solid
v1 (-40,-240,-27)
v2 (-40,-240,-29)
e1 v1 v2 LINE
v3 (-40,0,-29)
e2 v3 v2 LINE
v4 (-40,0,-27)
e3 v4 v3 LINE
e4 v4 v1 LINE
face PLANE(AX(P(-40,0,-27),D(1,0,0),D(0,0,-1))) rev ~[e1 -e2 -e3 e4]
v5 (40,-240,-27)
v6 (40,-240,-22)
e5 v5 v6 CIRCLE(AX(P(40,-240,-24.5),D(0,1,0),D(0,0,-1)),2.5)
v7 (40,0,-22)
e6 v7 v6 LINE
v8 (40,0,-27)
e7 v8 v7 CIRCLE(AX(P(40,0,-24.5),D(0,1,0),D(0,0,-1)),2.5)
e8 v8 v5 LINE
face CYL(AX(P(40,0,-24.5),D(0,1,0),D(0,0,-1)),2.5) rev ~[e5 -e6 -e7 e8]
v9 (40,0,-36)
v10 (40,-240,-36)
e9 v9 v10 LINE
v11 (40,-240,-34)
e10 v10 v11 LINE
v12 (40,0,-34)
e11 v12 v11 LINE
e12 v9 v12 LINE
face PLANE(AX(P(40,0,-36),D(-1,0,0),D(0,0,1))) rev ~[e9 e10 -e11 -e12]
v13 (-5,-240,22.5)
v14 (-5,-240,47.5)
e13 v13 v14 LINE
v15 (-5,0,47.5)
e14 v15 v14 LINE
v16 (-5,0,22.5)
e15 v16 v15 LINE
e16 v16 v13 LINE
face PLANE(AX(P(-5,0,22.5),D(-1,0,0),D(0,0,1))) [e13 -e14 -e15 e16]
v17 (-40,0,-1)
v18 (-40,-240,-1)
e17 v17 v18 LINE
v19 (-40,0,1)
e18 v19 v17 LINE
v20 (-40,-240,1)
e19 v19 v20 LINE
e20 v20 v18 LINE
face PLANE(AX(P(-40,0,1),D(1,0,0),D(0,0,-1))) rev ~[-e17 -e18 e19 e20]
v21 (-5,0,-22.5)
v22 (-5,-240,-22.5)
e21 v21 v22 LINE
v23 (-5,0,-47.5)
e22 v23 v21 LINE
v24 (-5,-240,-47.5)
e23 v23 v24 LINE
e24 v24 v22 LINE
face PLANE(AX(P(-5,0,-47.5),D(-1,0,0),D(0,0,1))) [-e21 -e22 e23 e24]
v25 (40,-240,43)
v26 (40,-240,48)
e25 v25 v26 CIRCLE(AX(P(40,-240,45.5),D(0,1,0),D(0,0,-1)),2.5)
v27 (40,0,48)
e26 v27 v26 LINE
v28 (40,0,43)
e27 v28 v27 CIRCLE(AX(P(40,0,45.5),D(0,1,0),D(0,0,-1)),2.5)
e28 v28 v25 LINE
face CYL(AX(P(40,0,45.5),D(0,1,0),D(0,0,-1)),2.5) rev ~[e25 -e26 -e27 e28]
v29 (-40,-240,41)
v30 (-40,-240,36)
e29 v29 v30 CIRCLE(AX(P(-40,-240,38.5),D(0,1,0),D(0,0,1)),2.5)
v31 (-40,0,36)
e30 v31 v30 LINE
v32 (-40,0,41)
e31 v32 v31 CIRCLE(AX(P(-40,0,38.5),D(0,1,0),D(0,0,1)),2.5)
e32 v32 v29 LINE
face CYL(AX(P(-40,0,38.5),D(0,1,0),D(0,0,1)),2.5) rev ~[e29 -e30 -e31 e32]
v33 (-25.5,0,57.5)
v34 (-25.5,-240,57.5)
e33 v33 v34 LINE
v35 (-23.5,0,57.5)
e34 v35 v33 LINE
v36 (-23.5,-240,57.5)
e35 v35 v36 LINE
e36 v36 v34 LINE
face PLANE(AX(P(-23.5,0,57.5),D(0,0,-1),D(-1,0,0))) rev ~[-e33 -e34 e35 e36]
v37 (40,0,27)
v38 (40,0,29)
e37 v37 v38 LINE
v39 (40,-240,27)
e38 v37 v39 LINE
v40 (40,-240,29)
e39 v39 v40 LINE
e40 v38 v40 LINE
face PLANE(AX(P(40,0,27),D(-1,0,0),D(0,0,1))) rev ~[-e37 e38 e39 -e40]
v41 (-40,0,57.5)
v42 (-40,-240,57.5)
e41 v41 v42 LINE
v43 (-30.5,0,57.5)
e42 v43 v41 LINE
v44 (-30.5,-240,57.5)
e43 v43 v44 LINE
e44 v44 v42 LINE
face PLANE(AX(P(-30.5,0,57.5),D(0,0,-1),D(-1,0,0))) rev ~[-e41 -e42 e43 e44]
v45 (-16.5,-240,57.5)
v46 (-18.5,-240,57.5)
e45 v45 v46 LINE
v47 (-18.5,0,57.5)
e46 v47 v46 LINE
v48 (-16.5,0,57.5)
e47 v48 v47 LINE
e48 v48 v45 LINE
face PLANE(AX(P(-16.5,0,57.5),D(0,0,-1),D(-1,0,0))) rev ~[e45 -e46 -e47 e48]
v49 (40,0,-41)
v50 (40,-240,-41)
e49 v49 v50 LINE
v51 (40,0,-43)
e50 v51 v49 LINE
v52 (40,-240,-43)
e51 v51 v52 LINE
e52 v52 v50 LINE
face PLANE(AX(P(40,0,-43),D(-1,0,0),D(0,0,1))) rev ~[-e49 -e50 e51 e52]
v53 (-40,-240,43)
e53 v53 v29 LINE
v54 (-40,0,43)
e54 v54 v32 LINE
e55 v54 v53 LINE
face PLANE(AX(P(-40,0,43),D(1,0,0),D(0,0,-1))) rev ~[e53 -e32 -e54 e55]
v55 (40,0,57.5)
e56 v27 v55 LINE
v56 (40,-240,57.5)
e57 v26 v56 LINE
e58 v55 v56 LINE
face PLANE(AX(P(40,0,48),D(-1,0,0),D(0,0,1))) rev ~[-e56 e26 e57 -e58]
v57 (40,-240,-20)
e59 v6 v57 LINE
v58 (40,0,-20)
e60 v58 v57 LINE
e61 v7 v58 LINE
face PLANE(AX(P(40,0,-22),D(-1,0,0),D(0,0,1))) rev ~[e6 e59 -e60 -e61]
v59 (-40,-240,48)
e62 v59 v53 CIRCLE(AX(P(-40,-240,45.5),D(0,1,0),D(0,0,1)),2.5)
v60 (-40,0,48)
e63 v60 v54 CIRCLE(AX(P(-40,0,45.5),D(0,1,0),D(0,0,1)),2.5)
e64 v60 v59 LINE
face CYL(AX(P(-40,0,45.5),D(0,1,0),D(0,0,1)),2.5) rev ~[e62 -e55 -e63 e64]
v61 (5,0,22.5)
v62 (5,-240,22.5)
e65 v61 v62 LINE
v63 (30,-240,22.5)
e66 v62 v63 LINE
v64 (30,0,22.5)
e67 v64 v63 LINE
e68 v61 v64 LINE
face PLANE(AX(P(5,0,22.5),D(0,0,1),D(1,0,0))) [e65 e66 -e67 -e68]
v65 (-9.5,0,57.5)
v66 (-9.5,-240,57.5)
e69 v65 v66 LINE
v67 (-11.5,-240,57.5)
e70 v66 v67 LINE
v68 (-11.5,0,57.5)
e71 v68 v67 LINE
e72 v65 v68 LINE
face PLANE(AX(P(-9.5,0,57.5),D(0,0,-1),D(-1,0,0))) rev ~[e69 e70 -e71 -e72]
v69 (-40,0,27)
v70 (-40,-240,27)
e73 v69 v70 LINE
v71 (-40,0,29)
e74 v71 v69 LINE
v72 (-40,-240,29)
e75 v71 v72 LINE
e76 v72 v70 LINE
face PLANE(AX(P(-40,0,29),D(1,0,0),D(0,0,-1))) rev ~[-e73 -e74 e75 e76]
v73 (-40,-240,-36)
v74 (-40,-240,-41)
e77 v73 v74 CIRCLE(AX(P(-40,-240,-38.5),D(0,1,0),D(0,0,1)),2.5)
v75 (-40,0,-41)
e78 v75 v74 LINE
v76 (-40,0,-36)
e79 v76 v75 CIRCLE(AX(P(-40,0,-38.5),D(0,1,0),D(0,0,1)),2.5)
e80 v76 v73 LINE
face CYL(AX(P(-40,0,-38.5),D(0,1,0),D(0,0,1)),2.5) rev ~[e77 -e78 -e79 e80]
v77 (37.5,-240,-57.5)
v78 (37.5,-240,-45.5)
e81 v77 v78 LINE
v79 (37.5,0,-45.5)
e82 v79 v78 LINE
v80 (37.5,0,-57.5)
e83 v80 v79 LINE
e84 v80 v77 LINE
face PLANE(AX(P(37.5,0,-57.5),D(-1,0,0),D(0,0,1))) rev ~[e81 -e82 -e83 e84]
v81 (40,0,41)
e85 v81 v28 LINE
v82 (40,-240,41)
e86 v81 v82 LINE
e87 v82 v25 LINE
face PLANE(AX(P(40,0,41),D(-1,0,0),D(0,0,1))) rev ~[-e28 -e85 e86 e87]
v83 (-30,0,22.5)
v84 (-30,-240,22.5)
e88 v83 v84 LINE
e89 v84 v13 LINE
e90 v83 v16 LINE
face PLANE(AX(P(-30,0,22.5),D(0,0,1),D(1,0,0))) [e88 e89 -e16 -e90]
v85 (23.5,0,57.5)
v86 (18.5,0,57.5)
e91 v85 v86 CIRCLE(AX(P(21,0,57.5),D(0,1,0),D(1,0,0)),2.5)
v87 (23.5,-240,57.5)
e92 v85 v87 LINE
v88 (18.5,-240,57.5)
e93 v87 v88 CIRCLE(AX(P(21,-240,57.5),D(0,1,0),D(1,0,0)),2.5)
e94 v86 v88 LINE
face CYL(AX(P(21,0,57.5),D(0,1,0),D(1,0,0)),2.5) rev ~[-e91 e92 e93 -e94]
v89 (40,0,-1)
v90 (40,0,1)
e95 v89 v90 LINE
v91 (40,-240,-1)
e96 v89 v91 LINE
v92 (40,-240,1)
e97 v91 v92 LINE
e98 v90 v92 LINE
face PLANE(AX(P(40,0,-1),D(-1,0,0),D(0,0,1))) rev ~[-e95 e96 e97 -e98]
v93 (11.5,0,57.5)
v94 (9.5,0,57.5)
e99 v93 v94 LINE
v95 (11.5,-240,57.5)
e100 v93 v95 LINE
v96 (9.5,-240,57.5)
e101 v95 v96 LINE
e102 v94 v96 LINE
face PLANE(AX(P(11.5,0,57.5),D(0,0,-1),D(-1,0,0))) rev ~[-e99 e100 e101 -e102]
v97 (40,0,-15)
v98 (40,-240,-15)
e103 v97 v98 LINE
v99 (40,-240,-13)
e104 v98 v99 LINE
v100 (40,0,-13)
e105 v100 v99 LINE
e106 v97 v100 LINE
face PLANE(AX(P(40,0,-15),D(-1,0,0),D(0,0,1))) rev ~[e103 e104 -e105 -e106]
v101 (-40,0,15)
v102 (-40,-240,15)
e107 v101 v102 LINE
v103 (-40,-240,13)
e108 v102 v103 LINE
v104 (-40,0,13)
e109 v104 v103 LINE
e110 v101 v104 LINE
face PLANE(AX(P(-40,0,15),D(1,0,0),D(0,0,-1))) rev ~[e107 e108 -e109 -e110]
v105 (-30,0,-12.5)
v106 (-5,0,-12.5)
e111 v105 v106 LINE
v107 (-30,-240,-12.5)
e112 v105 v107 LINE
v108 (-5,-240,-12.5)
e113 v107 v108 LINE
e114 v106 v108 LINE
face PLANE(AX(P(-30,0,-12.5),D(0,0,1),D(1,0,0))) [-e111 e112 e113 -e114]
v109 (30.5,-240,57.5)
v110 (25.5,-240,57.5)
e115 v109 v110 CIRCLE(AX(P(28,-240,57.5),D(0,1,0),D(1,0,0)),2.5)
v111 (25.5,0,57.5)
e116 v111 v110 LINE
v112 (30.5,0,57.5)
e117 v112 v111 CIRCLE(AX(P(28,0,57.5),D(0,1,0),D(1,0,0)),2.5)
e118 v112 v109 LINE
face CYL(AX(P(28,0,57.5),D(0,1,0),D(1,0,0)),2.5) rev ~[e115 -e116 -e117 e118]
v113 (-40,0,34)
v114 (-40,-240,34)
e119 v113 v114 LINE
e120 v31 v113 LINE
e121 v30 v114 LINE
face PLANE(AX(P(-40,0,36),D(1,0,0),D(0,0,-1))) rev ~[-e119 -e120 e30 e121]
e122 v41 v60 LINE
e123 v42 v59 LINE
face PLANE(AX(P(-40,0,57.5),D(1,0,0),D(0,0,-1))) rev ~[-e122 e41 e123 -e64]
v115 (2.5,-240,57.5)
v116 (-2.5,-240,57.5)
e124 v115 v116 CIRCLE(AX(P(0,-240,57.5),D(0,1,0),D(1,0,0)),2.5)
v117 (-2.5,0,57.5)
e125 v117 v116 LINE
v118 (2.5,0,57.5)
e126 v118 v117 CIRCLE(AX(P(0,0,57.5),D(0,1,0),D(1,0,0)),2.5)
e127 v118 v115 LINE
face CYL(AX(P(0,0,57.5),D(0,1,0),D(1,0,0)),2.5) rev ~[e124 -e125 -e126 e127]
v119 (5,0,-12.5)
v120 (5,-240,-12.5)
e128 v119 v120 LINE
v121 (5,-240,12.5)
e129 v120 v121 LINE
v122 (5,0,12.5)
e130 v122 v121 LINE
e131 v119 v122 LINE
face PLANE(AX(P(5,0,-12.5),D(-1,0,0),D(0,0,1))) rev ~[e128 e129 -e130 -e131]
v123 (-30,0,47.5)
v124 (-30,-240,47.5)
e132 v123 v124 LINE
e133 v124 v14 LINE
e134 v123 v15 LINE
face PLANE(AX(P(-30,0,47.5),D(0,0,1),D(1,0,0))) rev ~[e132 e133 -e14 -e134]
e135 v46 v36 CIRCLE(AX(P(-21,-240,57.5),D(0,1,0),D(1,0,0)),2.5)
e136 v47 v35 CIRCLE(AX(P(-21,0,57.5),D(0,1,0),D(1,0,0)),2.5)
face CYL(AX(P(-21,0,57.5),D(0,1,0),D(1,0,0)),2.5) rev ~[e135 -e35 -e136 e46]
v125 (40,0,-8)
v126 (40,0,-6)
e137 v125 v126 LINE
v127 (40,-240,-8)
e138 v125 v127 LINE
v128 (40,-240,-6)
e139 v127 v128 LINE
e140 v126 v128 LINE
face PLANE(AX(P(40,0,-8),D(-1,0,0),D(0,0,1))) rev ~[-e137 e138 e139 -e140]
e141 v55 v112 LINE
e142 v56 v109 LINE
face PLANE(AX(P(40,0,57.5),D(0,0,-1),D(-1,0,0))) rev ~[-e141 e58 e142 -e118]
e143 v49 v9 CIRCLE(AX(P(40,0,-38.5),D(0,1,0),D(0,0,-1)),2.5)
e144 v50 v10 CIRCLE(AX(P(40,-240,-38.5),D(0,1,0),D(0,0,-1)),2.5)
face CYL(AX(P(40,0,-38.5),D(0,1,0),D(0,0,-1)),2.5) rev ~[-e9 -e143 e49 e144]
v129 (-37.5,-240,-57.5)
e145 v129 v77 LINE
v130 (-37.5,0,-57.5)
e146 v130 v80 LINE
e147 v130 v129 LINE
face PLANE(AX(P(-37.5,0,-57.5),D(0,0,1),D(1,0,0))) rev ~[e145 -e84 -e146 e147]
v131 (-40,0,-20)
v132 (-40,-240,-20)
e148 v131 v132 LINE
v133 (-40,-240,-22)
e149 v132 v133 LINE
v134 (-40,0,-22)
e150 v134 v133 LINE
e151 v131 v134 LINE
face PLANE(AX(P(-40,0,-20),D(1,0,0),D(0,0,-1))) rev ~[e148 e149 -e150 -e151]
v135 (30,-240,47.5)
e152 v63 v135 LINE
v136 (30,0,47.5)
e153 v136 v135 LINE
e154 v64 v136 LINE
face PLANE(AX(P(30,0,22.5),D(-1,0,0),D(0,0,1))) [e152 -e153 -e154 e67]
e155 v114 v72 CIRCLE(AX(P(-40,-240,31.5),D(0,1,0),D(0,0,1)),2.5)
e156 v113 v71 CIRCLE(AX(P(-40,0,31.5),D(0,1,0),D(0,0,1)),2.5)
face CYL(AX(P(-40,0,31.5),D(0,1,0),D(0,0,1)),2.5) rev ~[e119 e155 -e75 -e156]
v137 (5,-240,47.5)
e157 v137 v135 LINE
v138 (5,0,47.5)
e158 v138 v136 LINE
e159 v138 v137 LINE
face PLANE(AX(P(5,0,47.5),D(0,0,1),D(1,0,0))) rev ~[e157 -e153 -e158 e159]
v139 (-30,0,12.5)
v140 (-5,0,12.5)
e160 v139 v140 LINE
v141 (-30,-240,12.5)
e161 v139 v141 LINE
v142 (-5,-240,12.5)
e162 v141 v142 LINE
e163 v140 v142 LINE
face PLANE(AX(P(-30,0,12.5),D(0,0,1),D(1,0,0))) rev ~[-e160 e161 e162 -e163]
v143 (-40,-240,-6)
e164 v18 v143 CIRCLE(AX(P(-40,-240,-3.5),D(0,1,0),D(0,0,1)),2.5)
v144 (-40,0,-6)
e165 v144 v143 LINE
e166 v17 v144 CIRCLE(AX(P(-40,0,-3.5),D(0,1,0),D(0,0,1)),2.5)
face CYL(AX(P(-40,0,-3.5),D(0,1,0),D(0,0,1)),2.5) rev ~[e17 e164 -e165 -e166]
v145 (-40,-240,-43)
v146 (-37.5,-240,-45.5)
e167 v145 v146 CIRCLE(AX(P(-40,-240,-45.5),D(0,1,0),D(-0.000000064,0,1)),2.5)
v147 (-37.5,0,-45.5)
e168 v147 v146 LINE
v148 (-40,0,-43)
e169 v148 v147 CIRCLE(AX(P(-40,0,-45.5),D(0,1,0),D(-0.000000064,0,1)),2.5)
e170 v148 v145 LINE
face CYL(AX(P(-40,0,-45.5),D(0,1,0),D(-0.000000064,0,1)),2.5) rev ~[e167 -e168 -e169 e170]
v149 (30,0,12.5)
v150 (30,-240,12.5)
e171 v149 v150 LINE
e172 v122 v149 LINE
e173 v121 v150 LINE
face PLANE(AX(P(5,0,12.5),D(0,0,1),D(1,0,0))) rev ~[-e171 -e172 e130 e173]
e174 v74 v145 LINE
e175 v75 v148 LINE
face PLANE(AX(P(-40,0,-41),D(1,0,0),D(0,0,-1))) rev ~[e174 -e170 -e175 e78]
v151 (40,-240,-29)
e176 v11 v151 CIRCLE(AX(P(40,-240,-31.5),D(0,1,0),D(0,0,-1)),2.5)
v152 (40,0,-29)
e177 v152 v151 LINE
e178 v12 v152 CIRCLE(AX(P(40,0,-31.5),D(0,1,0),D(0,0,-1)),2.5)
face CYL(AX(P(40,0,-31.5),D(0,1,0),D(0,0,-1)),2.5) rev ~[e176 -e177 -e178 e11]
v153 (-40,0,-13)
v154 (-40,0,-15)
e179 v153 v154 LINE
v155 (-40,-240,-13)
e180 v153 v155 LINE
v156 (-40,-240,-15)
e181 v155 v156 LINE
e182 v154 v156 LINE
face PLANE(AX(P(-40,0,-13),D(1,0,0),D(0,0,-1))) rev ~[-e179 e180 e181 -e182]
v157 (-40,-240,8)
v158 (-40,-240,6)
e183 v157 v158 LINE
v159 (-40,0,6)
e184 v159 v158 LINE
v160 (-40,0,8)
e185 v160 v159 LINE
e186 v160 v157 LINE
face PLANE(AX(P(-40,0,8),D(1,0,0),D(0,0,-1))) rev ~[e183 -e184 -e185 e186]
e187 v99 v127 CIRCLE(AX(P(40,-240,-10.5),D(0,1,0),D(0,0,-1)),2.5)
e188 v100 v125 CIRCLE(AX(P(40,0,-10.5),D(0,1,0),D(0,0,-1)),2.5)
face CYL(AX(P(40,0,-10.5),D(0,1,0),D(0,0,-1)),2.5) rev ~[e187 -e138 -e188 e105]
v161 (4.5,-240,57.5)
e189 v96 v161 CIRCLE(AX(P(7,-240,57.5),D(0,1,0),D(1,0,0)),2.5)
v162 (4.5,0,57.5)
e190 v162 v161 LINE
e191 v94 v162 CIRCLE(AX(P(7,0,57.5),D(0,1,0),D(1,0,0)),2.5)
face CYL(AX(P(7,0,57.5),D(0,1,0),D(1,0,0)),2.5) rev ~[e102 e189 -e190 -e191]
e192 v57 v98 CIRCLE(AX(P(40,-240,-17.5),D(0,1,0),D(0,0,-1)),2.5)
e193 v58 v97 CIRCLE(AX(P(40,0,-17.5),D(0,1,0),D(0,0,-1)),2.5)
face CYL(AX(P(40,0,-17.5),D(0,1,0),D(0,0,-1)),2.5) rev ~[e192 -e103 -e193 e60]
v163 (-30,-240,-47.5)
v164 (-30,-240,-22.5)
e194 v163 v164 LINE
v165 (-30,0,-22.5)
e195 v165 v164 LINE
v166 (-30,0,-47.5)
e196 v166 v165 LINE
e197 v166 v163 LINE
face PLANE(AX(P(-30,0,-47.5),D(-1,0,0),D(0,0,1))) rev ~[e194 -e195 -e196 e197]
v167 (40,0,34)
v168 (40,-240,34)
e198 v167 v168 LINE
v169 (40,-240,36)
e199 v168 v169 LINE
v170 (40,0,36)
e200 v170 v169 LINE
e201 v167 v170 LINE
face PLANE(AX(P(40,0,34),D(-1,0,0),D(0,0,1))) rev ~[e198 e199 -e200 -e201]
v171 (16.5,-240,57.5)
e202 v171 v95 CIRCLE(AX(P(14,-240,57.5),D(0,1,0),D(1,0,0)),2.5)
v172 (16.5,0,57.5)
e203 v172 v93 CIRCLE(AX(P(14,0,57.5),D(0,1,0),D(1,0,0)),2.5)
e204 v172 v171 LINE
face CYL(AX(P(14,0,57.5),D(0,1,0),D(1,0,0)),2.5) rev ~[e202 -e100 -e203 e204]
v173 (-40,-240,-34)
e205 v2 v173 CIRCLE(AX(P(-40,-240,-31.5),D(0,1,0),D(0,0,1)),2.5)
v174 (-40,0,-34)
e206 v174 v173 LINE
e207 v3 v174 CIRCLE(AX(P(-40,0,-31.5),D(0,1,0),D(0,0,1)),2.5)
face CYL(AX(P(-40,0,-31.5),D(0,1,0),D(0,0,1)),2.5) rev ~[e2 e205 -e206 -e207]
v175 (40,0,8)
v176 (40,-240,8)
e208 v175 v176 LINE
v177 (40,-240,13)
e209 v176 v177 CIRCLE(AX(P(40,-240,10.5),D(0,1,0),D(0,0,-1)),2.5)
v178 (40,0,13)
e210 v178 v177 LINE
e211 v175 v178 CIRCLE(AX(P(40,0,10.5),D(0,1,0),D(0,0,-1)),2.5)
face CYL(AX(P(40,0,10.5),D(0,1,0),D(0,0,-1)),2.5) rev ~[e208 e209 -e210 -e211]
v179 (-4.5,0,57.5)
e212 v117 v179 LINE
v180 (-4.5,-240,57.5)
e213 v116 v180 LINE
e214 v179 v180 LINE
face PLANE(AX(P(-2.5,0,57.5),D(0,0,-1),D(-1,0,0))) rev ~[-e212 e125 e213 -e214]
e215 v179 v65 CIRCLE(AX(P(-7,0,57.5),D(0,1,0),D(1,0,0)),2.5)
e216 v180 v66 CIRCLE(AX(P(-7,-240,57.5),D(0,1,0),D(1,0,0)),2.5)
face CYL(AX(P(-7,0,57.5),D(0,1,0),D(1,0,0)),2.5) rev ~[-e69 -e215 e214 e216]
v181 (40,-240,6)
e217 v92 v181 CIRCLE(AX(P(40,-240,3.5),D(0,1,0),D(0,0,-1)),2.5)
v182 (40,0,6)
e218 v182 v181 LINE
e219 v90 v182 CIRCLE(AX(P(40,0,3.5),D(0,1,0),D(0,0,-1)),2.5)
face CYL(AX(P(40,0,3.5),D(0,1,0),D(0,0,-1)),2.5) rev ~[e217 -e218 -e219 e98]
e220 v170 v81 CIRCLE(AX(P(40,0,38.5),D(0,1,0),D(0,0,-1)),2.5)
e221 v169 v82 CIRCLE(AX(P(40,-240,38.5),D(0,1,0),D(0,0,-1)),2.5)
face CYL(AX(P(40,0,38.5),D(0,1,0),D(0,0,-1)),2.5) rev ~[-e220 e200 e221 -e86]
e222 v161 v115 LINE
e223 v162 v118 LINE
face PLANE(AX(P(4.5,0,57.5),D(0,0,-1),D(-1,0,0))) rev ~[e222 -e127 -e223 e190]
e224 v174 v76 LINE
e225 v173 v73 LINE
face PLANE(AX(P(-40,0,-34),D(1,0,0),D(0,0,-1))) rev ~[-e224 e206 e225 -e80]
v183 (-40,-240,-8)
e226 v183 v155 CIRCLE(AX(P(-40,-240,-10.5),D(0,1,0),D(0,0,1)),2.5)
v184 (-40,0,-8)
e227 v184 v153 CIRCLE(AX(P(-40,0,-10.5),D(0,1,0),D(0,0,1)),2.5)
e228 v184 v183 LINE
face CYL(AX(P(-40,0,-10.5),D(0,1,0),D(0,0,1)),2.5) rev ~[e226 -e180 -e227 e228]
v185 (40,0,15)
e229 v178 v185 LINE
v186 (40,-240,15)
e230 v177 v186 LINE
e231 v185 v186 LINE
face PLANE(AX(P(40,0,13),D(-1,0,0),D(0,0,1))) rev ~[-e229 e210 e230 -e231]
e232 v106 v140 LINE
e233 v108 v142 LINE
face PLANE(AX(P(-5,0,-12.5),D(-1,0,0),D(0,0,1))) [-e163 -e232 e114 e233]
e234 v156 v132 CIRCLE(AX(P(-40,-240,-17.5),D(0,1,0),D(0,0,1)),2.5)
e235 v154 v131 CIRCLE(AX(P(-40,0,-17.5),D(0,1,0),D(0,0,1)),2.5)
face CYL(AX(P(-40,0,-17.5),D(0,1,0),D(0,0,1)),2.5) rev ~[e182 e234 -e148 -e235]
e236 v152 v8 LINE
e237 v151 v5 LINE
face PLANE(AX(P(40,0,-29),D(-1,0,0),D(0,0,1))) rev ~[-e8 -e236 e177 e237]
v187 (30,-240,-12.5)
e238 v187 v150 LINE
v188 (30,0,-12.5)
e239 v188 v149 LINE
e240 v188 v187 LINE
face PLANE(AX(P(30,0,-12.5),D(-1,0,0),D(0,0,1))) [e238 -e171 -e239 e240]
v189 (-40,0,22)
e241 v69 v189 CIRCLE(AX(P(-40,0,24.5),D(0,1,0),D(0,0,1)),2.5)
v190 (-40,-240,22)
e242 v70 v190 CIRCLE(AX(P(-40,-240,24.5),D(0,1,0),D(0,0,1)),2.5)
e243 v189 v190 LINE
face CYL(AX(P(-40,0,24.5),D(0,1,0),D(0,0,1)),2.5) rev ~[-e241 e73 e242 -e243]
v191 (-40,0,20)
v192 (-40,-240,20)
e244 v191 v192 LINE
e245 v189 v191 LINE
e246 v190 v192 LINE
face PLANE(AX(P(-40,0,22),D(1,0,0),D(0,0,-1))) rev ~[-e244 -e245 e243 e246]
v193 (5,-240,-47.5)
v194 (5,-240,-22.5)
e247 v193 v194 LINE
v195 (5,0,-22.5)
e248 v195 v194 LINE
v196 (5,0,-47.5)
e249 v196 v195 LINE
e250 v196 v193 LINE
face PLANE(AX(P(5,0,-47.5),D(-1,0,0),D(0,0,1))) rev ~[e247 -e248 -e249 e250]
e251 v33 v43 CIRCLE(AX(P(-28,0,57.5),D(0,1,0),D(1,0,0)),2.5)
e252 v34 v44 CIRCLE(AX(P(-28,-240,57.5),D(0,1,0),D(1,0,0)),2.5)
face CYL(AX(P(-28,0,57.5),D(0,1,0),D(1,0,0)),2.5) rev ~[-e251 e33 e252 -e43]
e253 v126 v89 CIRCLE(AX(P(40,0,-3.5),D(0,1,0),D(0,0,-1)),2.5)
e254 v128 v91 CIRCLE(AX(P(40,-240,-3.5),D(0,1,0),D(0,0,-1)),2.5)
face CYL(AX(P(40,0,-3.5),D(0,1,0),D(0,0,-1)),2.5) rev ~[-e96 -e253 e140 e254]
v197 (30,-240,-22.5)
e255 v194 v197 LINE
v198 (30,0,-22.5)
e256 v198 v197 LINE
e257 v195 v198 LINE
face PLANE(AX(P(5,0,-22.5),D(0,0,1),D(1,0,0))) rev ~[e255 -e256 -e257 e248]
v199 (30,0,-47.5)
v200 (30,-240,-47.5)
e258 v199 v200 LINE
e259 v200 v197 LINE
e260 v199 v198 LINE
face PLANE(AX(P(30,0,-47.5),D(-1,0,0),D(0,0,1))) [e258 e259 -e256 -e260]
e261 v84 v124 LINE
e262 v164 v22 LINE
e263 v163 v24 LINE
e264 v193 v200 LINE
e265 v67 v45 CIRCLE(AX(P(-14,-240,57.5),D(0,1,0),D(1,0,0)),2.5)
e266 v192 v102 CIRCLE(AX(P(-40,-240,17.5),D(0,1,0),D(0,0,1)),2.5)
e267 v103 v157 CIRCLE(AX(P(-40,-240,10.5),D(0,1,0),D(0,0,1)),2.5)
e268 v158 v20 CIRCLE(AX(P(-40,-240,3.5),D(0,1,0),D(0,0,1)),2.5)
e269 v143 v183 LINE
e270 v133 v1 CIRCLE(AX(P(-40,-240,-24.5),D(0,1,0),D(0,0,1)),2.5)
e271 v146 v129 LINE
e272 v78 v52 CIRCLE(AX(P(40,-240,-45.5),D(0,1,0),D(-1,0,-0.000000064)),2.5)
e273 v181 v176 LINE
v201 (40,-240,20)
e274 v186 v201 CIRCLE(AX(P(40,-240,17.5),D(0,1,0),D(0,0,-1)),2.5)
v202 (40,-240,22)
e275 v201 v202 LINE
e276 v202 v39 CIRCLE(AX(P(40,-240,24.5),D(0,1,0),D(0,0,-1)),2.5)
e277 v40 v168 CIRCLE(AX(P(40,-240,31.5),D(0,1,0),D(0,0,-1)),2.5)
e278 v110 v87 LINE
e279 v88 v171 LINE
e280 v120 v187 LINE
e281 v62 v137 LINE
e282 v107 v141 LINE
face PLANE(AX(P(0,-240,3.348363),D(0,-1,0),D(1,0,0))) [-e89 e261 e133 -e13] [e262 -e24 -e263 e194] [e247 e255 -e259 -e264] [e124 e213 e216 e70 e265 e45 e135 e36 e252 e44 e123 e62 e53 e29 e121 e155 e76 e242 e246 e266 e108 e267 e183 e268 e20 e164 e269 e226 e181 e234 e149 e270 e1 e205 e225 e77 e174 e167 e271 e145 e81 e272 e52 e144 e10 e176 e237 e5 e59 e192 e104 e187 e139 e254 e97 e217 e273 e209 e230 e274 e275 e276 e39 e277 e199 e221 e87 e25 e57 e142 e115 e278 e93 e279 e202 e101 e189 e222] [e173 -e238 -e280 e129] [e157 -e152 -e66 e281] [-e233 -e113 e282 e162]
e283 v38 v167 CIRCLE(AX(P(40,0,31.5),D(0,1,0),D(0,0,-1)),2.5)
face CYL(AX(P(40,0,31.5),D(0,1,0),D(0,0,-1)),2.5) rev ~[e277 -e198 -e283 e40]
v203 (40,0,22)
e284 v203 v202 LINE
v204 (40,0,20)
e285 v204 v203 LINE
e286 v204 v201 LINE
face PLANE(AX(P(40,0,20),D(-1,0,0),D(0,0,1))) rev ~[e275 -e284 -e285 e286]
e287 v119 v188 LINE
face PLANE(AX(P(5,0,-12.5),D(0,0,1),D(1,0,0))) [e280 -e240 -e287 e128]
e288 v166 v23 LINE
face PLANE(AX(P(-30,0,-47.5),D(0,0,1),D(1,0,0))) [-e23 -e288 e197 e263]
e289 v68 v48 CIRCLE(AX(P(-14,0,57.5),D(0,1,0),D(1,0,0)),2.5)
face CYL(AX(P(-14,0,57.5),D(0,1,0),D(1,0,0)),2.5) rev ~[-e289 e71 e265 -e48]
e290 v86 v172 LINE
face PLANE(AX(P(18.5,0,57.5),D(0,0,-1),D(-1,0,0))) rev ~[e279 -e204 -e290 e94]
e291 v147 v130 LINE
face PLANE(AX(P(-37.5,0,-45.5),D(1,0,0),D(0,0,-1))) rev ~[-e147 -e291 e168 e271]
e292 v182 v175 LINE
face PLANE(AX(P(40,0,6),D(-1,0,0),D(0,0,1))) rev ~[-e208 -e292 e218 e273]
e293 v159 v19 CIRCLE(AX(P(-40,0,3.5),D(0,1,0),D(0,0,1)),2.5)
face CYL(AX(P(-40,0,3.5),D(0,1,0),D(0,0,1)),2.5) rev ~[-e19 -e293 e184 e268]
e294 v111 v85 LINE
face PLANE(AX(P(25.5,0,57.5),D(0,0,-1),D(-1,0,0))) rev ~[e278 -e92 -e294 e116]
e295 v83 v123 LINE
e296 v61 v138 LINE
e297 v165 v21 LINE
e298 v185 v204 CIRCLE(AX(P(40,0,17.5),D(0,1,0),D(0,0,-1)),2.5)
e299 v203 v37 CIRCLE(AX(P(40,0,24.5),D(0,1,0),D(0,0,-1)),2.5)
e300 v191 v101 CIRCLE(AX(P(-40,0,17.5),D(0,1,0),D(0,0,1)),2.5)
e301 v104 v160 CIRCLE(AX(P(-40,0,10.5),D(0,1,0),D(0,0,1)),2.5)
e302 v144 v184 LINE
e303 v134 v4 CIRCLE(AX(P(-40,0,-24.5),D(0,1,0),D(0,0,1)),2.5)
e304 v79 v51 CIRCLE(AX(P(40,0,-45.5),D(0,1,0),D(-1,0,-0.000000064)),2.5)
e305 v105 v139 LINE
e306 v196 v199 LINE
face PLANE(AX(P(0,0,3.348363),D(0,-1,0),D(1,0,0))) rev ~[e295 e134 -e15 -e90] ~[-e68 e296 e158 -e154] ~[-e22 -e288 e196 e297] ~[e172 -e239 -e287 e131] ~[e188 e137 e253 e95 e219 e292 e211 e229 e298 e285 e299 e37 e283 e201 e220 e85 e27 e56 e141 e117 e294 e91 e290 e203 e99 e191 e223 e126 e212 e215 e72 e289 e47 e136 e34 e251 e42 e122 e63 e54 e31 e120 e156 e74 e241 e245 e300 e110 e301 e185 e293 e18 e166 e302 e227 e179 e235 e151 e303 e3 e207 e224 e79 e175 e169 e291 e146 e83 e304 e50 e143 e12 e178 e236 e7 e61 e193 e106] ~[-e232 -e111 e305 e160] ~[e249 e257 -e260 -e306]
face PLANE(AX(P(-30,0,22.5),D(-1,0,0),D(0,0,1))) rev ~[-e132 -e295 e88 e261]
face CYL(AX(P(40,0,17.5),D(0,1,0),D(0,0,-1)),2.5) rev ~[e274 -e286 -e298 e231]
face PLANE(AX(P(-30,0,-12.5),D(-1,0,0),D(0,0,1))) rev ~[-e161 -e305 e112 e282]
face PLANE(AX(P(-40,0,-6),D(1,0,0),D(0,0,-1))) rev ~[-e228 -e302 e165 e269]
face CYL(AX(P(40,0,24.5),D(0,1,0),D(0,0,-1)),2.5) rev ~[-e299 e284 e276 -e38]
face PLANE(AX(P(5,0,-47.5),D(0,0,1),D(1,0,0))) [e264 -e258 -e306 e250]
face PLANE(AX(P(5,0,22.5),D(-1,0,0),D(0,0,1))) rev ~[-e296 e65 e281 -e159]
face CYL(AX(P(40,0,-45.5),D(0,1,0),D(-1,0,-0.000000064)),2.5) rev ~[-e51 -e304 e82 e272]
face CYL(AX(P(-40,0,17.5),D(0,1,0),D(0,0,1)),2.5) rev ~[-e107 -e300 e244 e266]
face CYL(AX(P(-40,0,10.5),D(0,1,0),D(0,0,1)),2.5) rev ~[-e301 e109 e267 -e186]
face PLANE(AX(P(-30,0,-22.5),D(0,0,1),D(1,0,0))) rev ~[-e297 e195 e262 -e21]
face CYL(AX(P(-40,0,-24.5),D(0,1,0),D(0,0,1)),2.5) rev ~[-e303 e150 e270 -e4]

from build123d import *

# Parameters (mm, degrees)
F0_W     = 25
F0_H     = 25
F1_DEPTH = 240


with BuildPart() as f1:
    # F0 (on Front) → F1 (new body)
    with BuildSketch(Plane.XZ):
        with BuildLine():
            Line((-37.5, -45.5), (-37.5, -57.5))
            Line((-37.5, -57.5), (37.5, -57.5))
            Line((37.5, -57.5), (37.5, -45.5))
            ThreePointArc((37.5, -45.5), (38.232233, -43.732233), (40, -43))
            Line((40, -43), (40, -41))
            ThreePointArc((40, -41), (37.5, -38.5), (40, -36))
            Line((40, -36), (40, -34))
            ThreePointArc((40, -34), (37.5, -31.5), (40, -29))
            Line((40, -29), (40, -27))
            ThreePointArc((40, -27), (37.5, -24.5), (40, -22))
            Line((40, -22), (40, -20))
            ThreePointArc((40, -20), (37.5, -17.5), (40, -15))
            Line((40, -15), (40, -13))
            ThreePointArc((40, -13), (37.5, -10.5), (40, -8))
            Line((40, -8), (40, -6))
            ThreePointArc((40, -6), (37.5, -3.5), (40, -1))
            Line((40, -1), (40, 1))
            ThreePointArc((40, 1), (37.5, 3.5), (40, 6))
            Line((40, 6), (40, 8))
            ThreePointArc((40, 8), (37.5, 10.5), (40, 13))
            Line((40, 13), (40, 15))
            ThreePointArc((40, 15), (37.5, 17.5), (40, 20))
            Line((40, 20), (40, 22))
            ThreePointArc((40, 22), (37.5, 24.5), (40, 27))
            Line((40, 27), (40, 29))
            ThreePointArc((40, 29), (37.5, 31.5), (40, 34))
            Line((40, 34), (40, 36))
            ThreePointArc((40, 36), (37.5, 38.5), (40, 41))
            Line((40, 41), (40, 43))
            ThreePointArc((40, 43), (37.5, 45.5), (40, 48))
            Line((40, 48), (40, 57.5))
            Line((40, 57.5), (30.5, 57.5))
            ThreePointArc((30.5, 57.5), (28, 55), (25.5, 57.5))
            Line((25.5, 57.5), (23.5, 57.5))
            ThreePointArc((23.5, 57.5), (21, 55), (18.5, 57.5))
            Line((18.5, 57.5), (16.5, 57.5))
            ThreePointArc((16.5, 57.5), (14, 55), (11.5, 57.5))
            Line((11.5, 57.5), (9.5, 57.5))
            ThreePointArc((9.5, 57.5), (7, 55), (4.5, 57.5))
            Line((4.5, 57.5), (2.5, 57.5))
            ThreePointArc((2.5, 57.5), (0, 55), (-2.5, 57.5))
            Line((-2.5, 57.5), (-4.5, 57.5))
            ThreePointArc((-4.5, 57.5), (-7, 55), (-9.5, 57.5))
            Line((-9.5, 57.5), (-11.5, 57.5))
            ThreePointArc((-11.5, 57.5), (-14, 55), (-16.5, 57.5))
            Line((-16.5, 57.5), (-18.5, 57.5))
            ThreePointArc((-18.5, 57.5), (-21, 55), (-23.5, 57.5))
            Line((-23.5, 57.5), (-25.5, 57.5))
            ThreePointArc((-25.5, 57.5), (-28, 55), (-30.5, 57.5))
            Line((-30.5, 57.5), (-40, 57.5))
            Line((-40, 57.5), (-40, 48))
            ThreePointArc((-40, 48), (-37.5, 45.5), (-40, 43))
            Line((-40, 43), (-40, 41))
            ThreePointArc((-40, 41), (-37.5, 38.5), (-40, 36))
            Line((-40, 36), (-40, 34))
            ThreePointArc((-40, 34), (-37.5, 31.5), (-40, 29))
            Line((-40, 29), (-40, 27))
            ThreePointArc((-40, 27), (-37.5, 24.5), (-40, 22))
            Line((-40, 22), (-40, 20))
            ThreePointArc((-40, 20), (-37.5, 17.5), (-40, 15))
            Line((-40, 15), (-40, 13))
            ThreePointArc((-40, 13), (-37.5, 10.5), (-40, 8))
            Line((-40, 8), (-40, 6))
            ThreePointArc((-40, 6), (-37.5, 3.5), (-40, 1))
            Line((-40, 1), (-40, -1))
            ThreePointArc((-40, -1), (-37.5, -3.5), (-40, -6))
            Line((-40, -6), (-40, -8))
            ThreePointArc((-40, -8), (-37.5, -10.5), (-40, -13))
            Line((-40, -13), (-40, -15))
            ThreePointArc((-40, -15), (-37.5, -17.5), (-40, -20))
            Line((-40, -20), (-40, -22))
            ThreePointArc((-40, -22), (-37.5, -24.5), (-40, -27))
            Line((-40, -27), (-40, -29))
            ThreePointArc((-40, -29), (-37.5, -31.5), (-40, -34))
            Line((-40, -34), (-40, -36))
            ThreePointArc((-40, -36), (-37.5, -38.5), (-40, -41))
            Line((-40, -41), (-40, -43))
            ThreePointArc((-40, -43), (-38.232233, -43.732233), (-37.5, -45.5))
        make_face()
        with Locations((-17.5, -35)):
            Rectangle(F0_W, F0_H, mode=Mode.SUBTRACT)
        with Locations((17.5, -35)):
            Rectangle(F0_W, F0_H, mode=Mode.SUBTRACT)
        with Locations((-17.5, 0)):
            Rectangle(F0_W, F0_H, mode=Mode.SUBTRACT)
        with Locations((-17.5, 35)):
            Rectangle(F0_W, F0_H, mode=Mode.SUBTRACT)
        with Locations((17.5, 0)):
            Rectangle(F0_W, F0_H, mode=Mode.SUBTRACT)
        with Locations((17.5, 35)):
            Rectangle(F0_W, F0_H, mode=Mode.SUBTRACT)
    extrude(amount=F1_DEPTH)


solid = f1.part
